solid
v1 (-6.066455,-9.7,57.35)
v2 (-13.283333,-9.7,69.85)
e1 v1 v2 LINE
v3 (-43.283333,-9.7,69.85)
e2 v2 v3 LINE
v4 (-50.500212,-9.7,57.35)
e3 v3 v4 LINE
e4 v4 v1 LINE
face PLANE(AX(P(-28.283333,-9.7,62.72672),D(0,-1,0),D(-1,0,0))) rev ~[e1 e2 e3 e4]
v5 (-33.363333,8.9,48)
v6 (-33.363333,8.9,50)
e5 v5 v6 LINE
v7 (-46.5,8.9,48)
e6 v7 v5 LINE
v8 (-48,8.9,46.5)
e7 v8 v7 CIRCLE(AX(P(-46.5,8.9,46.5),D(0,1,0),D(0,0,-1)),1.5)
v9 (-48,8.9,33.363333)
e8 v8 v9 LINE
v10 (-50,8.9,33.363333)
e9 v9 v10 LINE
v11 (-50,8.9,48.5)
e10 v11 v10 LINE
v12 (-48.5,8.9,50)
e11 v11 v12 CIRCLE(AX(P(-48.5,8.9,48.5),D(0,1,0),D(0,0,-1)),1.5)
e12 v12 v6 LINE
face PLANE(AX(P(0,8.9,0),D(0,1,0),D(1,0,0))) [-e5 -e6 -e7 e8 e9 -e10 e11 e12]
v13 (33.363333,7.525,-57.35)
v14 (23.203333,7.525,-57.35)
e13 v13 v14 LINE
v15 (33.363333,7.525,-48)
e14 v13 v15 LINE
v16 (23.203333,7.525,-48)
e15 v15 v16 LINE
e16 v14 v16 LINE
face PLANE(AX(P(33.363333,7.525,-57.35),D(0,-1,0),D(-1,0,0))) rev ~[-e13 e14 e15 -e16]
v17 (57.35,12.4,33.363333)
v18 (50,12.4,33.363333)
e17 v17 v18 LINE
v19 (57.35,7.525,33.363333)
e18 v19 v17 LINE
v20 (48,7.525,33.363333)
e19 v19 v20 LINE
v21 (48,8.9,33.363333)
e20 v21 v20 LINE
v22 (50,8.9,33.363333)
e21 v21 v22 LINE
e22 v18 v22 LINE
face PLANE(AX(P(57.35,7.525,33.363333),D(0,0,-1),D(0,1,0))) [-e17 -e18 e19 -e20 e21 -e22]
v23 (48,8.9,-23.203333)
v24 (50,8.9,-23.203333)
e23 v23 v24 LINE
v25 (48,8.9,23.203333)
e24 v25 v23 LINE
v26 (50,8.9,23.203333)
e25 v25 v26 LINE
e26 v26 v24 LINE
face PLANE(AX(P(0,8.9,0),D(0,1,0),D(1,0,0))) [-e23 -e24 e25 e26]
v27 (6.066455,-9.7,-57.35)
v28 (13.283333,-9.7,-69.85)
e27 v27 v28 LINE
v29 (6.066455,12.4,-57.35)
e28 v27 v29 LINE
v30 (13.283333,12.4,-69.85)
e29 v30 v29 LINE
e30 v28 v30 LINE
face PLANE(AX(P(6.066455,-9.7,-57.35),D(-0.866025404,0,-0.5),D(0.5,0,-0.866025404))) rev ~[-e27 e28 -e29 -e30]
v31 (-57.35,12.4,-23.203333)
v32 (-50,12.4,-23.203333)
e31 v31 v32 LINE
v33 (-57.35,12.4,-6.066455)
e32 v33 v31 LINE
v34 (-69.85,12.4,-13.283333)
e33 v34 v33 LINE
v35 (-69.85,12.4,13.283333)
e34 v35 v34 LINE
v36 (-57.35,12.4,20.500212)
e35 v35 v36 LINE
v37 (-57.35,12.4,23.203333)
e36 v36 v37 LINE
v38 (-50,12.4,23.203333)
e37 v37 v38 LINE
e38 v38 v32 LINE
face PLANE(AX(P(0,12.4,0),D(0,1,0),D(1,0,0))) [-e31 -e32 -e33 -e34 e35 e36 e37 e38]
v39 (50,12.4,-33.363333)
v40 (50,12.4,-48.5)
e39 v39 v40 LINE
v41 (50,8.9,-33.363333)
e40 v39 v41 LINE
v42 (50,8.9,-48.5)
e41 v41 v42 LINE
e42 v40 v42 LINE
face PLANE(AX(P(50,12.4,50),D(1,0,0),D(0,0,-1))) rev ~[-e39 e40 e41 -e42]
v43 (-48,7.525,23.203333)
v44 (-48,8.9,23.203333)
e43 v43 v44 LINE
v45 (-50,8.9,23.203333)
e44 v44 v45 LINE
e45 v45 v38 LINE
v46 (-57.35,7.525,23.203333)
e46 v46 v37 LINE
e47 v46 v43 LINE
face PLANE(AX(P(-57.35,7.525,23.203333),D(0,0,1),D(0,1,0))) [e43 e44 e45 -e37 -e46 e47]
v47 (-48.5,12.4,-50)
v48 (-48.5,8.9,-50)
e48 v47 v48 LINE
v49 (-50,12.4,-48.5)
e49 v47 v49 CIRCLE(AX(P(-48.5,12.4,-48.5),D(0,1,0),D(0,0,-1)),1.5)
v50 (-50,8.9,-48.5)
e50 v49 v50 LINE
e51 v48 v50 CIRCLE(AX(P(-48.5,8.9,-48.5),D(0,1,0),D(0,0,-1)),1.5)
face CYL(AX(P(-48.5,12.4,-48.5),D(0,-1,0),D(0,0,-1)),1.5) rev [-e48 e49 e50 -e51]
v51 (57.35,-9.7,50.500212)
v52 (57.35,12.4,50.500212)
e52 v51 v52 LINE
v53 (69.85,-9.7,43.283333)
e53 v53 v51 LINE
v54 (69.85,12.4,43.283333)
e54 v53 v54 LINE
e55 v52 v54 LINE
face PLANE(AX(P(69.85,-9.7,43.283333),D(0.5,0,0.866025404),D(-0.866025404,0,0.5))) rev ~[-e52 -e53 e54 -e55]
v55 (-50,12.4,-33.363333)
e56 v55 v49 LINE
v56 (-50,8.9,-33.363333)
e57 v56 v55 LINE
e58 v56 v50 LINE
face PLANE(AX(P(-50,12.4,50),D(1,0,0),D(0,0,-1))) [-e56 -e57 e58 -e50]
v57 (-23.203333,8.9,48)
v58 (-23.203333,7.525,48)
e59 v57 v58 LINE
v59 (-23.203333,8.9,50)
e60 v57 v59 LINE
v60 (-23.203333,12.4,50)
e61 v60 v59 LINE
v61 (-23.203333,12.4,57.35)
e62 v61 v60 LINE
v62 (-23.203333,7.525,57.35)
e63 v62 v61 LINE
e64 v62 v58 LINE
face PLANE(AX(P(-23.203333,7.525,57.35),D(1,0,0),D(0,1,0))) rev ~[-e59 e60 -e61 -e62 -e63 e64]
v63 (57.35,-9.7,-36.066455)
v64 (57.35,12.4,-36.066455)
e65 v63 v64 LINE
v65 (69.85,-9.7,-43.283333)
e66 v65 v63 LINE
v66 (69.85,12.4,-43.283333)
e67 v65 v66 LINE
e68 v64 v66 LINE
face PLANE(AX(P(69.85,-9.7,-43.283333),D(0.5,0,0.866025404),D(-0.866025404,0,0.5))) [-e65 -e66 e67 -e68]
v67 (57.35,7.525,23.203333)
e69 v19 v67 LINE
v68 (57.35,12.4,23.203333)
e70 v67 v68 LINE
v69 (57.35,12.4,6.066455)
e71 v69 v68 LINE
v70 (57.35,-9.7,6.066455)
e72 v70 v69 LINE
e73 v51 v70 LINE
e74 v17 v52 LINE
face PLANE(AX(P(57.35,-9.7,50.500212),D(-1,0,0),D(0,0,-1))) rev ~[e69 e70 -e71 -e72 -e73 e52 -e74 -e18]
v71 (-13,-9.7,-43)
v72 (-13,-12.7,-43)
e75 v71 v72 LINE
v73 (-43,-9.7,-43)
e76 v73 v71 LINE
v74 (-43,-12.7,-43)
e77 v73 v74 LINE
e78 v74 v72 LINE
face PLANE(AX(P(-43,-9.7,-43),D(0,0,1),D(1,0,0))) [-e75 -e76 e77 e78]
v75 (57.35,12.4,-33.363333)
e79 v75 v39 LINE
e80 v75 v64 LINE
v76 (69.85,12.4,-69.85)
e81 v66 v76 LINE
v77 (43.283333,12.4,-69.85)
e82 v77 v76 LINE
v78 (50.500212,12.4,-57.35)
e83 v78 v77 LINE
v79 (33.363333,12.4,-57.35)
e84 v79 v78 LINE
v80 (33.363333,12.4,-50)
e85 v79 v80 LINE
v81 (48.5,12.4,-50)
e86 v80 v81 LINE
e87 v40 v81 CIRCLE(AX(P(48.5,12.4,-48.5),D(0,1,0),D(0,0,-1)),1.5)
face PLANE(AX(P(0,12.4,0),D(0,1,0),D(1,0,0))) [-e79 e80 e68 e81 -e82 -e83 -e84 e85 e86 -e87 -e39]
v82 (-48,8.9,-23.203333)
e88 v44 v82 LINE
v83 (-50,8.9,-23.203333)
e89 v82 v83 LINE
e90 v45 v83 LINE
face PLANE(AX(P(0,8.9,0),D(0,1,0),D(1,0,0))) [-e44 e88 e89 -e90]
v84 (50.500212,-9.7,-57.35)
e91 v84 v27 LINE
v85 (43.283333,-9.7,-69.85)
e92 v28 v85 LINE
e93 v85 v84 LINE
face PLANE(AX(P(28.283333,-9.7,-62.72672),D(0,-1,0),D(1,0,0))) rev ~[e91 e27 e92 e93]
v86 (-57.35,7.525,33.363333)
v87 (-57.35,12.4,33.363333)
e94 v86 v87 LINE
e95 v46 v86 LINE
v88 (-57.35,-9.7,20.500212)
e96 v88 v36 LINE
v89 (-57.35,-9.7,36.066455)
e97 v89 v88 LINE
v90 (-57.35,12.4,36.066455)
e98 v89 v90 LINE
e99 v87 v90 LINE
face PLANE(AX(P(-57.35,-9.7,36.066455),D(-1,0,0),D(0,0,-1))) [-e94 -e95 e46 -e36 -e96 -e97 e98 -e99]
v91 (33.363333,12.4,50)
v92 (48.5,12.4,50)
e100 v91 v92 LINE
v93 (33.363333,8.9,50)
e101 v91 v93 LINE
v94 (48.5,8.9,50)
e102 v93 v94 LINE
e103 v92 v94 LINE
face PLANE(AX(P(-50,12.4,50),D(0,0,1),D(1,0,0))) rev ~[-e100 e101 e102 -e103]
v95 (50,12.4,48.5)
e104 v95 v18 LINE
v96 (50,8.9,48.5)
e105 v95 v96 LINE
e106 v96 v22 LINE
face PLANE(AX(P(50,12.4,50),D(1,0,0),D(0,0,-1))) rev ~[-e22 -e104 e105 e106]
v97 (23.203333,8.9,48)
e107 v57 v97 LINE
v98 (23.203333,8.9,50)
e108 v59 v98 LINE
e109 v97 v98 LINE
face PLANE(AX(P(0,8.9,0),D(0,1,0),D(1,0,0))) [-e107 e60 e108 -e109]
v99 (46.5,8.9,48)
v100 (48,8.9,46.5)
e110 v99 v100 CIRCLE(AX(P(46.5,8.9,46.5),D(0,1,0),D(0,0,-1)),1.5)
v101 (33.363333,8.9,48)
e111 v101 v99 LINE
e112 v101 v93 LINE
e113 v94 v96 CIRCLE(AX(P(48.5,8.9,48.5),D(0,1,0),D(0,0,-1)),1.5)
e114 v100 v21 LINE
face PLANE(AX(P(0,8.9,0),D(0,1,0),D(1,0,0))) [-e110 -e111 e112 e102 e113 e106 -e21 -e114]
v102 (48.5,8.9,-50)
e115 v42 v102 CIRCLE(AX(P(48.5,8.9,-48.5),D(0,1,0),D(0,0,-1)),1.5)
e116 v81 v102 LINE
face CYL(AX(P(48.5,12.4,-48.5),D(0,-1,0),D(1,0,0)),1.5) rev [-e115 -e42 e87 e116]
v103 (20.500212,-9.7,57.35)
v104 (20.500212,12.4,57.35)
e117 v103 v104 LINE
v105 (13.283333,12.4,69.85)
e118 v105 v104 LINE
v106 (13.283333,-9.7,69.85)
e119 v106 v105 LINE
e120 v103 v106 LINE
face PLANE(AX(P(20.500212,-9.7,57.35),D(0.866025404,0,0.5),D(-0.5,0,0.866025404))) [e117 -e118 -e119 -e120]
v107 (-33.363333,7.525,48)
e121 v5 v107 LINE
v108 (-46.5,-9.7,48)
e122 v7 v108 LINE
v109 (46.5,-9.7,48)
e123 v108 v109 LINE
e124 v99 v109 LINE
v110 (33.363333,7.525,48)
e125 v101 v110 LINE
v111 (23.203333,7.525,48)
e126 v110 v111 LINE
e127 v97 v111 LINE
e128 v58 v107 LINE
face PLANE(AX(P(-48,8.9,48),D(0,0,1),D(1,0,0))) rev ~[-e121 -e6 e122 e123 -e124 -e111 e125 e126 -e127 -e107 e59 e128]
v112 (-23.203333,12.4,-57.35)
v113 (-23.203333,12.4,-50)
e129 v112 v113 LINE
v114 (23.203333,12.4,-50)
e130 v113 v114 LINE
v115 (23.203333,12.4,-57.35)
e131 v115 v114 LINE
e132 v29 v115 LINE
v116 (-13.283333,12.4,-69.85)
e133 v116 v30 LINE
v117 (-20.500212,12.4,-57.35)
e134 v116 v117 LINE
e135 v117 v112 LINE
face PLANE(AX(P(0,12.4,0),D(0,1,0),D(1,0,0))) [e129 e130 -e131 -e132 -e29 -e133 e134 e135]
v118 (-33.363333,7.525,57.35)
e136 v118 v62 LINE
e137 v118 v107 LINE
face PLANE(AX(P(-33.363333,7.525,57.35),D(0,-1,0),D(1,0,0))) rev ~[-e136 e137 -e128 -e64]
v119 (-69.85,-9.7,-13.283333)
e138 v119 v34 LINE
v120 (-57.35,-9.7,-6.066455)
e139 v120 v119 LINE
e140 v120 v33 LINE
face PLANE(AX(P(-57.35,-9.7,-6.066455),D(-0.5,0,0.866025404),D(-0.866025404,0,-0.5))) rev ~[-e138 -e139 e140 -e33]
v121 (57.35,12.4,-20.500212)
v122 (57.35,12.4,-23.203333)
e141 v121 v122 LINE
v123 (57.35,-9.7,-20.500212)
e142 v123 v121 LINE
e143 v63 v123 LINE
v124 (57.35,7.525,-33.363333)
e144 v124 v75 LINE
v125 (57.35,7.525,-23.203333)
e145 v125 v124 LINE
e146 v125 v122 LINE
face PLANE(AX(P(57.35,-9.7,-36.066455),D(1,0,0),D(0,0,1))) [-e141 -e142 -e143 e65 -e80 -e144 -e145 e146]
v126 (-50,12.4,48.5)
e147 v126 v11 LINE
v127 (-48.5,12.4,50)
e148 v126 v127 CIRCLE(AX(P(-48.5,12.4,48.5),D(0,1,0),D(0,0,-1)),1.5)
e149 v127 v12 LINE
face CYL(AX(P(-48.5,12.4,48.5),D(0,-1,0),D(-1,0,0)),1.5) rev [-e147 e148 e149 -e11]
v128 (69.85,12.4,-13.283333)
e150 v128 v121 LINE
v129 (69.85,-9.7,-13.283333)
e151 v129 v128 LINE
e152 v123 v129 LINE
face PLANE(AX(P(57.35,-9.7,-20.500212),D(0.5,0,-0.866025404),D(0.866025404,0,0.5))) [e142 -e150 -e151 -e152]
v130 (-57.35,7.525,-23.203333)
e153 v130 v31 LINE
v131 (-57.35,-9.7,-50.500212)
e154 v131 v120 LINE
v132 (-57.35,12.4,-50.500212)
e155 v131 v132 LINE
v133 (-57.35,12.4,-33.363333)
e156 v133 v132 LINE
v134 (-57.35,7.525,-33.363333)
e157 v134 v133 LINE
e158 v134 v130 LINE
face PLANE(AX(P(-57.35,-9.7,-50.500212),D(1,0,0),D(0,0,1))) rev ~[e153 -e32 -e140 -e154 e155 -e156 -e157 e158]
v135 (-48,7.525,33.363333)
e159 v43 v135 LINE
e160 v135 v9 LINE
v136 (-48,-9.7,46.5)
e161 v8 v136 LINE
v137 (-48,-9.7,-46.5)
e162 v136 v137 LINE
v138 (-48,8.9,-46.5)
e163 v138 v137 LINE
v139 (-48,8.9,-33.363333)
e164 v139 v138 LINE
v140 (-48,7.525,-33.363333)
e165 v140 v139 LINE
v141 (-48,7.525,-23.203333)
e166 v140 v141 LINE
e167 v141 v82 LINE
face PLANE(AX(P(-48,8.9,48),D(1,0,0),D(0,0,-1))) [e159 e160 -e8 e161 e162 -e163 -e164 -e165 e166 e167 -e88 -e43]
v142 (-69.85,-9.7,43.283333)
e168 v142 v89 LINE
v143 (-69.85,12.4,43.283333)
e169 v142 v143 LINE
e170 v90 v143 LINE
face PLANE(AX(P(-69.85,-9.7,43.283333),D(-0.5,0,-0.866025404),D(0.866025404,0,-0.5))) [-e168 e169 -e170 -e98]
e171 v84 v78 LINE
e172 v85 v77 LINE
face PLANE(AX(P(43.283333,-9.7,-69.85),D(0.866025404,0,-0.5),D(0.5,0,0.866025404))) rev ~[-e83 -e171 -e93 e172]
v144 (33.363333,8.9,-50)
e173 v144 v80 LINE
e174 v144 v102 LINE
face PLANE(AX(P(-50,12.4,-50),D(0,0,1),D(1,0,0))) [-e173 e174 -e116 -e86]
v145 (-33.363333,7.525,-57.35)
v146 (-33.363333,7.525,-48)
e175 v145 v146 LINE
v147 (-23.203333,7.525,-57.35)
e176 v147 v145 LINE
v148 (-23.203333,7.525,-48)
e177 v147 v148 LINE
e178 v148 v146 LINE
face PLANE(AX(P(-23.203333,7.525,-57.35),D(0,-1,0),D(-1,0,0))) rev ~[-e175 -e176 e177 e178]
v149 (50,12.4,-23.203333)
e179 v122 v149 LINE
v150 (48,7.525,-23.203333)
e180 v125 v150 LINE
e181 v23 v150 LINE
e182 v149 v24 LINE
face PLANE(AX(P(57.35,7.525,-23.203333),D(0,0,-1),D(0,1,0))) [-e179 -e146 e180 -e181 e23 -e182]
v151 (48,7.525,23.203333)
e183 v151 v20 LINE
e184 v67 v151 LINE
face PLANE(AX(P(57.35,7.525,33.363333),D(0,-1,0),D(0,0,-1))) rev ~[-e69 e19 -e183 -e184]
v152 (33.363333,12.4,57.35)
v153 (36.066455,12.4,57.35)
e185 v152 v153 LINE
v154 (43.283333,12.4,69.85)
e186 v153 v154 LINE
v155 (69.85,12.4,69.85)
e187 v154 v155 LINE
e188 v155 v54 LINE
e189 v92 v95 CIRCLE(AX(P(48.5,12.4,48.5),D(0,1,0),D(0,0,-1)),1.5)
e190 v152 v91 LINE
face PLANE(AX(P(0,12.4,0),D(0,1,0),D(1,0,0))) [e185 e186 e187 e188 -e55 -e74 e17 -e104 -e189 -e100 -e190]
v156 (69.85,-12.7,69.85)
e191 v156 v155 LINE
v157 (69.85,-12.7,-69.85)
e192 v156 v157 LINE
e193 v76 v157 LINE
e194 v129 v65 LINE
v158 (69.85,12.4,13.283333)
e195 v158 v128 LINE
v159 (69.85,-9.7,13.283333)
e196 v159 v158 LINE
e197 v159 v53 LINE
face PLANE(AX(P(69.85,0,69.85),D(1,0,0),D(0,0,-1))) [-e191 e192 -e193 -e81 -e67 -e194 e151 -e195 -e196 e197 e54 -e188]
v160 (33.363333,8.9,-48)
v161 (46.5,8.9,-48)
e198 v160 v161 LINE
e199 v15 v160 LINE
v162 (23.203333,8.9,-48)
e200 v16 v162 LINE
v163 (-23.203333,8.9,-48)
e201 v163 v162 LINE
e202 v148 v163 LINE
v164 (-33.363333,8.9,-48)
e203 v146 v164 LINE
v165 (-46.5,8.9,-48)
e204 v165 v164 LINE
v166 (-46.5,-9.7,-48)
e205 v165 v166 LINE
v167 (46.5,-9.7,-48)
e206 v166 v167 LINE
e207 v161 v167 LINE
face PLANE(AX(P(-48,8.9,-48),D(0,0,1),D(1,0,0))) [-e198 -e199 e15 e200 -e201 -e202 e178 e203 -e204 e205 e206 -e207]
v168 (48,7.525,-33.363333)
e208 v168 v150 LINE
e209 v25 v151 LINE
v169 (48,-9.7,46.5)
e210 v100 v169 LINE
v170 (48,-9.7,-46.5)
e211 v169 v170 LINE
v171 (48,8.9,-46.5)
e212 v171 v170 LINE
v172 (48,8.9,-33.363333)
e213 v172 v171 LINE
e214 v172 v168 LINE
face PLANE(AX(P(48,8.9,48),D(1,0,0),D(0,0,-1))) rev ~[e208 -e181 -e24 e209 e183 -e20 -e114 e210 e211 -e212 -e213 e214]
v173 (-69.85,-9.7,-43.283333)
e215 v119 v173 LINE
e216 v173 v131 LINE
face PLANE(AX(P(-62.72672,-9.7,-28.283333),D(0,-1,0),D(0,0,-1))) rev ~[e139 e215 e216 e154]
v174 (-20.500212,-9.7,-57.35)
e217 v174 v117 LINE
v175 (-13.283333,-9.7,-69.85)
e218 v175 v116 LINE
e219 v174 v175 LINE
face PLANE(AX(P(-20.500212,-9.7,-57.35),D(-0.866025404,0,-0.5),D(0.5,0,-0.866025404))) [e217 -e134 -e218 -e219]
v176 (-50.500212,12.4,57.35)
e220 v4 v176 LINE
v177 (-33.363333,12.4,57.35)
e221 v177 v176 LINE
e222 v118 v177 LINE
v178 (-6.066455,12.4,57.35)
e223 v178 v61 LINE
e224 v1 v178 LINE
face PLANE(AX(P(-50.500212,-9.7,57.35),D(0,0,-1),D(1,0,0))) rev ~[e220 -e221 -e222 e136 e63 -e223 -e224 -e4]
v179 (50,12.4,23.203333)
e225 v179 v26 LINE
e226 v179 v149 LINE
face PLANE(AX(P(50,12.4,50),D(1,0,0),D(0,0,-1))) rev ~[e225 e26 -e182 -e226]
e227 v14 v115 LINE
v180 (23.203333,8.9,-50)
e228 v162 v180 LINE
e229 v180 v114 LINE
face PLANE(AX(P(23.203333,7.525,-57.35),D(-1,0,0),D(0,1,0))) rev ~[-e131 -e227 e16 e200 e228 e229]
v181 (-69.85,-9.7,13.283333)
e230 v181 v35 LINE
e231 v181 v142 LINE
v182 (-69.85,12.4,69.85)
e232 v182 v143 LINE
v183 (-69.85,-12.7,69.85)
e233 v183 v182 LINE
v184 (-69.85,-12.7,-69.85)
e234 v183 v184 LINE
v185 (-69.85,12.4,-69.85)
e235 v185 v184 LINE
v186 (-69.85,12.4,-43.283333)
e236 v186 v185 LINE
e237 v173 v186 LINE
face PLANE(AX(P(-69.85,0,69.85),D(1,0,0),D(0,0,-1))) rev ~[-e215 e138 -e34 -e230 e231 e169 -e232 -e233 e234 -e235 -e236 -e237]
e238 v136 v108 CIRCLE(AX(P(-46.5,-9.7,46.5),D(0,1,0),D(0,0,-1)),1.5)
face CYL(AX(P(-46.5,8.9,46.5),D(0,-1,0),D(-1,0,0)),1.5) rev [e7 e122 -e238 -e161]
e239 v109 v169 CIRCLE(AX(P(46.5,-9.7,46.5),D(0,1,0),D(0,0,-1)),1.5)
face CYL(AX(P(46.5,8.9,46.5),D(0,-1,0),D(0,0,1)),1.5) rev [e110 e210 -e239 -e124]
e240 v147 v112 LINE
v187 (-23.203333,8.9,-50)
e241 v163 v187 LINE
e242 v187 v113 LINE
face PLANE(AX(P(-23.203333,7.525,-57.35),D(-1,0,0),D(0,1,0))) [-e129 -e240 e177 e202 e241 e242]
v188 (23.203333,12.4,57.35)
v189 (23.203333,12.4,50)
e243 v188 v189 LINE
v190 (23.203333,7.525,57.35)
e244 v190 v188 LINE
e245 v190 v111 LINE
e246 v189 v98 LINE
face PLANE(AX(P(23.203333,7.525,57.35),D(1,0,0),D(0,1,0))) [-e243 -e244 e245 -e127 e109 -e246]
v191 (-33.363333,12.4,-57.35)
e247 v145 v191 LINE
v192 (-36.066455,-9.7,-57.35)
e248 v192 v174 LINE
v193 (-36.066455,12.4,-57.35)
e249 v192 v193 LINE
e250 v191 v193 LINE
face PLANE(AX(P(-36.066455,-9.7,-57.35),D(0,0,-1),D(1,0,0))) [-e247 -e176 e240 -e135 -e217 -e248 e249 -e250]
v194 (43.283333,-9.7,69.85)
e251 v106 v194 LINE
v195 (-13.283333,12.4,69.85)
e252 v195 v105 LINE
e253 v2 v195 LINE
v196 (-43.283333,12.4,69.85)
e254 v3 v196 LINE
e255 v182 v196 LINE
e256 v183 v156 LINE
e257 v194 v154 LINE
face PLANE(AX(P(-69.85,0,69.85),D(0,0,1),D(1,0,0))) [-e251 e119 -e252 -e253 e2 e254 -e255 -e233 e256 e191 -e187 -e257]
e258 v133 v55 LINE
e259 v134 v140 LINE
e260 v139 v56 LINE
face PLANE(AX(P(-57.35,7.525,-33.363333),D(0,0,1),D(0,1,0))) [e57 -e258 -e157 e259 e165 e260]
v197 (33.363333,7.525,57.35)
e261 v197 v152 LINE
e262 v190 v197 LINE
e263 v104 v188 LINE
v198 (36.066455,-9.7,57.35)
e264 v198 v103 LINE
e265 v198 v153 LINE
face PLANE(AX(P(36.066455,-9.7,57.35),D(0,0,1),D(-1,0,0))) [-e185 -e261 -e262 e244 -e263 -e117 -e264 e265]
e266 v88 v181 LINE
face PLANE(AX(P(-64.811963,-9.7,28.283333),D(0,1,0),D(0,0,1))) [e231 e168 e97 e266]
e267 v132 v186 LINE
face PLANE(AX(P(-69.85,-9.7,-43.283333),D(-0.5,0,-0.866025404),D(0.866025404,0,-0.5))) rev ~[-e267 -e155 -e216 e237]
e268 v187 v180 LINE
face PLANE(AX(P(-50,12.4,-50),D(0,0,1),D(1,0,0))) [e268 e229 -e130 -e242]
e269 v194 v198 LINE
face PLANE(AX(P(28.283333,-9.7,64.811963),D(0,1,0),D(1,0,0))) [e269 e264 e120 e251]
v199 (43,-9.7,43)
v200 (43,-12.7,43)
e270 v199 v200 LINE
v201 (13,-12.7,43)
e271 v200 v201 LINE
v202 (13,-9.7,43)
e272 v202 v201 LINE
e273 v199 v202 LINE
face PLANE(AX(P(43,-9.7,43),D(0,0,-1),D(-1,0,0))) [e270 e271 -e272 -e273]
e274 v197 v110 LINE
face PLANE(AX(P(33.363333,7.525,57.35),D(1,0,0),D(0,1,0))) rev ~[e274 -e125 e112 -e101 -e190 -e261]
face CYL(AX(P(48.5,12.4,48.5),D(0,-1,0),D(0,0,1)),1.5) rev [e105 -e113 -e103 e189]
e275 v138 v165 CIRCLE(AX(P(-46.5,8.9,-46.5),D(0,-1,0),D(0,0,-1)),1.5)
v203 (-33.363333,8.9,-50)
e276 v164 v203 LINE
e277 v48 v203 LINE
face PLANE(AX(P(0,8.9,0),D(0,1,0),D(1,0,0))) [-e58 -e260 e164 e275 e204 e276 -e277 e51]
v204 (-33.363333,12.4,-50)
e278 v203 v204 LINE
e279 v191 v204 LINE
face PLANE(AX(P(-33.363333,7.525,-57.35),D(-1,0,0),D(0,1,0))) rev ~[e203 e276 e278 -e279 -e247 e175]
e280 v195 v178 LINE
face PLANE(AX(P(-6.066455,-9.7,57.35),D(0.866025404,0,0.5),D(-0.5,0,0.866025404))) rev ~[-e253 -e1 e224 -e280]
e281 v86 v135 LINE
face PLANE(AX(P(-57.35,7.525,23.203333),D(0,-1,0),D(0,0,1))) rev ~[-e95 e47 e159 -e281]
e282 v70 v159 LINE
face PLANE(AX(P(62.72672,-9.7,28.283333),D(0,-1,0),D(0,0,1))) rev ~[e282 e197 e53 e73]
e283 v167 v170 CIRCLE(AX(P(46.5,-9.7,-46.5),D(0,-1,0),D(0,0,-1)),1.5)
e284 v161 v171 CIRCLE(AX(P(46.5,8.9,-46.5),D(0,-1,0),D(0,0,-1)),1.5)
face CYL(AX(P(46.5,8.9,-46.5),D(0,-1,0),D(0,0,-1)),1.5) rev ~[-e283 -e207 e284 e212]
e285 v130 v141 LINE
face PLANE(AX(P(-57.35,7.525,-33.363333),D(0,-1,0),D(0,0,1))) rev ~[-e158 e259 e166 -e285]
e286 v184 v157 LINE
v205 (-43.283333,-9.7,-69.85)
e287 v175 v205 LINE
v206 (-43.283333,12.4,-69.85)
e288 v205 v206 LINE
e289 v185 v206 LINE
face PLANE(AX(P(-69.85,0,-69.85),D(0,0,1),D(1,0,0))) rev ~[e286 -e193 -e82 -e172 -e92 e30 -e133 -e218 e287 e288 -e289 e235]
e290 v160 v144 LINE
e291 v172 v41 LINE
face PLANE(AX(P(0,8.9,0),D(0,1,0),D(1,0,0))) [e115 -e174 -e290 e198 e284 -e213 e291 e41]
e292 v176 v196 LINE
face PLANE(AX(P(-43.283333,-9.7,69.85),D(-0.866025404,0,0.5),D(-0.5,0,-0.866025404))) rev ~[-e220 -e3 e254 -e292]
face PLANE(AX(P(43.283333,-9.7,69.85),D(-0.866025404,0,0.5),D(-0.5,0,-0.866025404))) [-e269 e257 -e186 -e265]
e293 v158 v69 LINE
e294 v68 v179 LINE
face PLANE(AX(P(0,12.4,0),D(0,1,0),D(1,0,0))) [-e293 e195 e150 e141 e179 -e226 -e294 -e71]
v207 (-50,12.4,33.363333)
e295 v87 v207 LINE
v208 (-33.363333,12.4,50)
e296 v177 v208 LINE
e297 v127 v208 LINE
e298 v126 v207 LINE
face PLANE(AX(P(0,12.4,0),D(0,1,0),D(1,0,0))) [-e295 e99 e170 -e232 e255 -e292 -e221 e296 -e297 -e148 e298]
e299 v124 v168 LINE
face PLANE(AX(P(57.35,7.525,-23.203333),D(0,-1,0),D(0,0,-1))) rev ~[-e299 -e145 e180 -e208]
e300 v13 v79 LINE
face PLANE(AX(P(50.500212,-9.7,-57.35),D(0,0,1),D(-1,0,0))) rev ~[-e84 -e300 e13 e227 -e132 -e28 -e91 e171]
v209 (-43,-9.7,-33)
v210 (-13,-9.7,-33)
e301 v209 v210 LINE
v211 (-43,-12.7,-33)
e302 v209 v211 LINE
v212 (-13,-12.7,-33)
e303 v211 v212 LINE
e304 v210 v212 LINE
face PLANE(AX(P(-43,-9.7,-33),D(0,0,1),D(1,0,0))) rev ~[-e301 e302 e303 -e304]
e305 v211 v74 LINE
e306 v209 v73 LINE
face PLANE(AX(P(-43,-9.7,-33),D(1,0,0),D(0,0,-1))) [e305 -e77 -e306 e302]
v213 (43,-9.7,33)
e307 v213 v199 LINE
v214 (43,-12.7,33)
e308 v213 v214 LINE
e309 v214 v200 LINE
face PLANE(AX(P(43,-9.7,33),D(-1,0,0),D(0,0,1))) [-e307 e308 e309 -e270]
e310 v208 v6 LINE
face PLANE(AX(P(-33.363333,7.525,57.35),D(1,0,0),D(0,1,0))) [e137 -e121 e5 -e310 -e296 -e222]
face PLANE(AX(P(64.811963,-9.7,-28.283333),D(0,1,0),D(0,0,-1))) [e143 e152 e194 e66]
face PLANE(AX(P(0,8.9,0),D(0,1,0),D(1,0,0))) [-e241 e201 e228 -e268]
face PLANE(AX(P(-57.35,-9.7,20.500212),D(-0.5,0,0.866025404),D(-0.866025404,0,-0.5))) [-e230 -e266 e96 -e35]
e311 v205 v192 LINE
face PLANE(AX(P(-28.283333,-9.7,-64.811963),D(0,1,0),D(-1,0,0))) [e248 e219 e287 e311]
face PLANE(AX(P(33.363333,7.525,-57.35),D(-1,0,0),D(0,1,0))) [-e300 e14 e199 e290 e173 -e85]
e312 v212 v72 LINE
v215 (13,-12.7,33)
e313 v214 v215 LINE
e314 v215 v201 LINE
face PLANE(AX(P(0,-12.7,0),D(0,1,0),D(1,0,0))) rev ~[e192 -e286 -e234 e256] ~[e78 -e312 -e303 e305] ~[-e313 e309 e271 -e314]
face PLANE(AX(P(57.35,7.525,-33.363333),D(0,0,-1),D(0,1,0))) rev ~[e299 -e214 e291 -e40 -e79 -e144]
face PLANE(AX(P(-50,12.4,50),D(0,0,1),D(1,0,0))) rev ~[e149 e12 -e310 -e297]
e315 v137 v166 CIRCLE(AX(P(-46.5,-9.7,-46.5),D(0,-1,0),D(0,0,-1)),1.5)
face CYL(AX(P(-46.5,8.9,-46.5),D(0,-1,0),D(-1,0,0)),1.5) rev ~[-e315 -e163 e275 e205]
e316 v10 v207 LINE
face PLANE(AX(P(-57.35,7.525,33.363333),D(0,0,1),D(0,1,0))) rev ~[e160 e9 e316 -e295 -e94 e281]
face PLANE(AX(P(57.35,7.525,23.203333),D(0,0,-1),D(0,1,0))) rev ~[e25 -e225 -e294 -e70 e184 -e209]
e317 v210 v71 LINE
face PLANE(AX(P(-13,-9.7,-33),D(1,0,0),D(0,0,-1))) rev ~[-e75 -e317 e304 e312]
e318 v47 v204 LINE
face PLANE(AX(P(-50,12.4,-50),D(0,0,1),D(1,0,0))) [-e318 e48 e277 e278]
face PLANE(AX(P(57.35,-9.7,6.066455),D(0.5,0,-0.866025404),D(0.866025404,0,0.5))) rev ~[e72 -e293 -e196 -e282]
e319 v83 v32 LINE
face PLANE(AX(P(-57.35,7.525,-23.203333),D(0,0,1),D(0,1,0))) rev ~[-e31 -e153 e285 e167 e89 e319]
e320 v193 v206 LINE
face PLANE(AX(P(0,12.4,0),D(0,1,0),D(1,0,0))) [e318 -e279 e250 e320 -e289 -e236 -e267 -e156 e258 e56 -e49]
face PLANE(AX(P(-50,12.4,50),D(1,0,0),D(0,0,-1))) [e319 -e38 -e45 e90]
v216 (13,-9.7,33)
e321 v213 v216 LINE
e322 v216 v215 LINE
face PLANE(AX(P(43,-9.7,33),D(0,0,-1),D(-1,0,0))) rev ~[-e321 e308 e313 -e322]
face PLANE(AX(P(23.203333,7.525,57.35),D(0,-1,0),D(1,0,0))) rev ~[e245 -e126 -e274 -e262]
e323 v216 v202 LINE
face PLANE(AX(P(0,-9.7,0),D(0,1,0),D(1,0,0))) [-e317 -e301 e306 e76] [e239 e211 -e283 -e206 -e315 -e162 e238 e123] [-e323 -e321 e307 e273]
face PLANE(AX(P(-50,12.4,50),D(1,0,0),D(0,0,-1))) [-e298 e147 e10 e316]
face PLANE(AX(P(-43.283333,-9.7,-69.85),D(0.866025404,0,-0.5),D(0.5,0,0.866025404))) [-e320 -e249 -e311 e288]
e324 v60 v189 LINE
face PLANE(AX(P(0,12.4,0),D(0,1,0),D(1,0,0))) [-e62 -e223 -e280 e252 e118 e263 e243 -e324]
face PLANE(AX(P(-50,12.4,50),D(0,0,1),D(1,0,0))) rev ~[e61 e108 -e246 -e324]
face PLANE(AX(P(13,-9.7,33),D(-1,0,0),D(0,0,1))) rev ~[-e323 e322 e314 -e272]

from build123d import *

# Parameters (mm, degrees)
SKETCH1_W           = 139.7
SKETCH1_H           = 139.7
BOSS_EXTRUDE1_DEPTH = 12.7
SKETCH2_W           = 139.7
SKETCH2_H           = 139.7
CUT_EXTRUDE1_DEPTH  = 0.3
CUT_EXTRUDE2_START  = -22.1
CUT_EXTRUDE2_DEPTH  = 125.021808265
SKETCH18_W          = 10.16
SKETCH18_H          = 4.875
CUT_EXTRUDE6_DEPTH  = 20
CIRPATTERN1_COUNT   = 4
SKETCH19_W          = 100
SKETCH19_H          = 100
CUT_EXTRUDE8_DEPTH  = 3.5
SKETCH20_W          = 96
SKETCH20_H          = 96
CUT_EXTRUDE9_DEPTH  = 18.6
SKETCH21_W          = 30
SKETCH21_H          = 10
CUT_EXTRUDE10_DEPTH = 102.224774635
FILLET2_R           = 1.5
CIRPATTERN2_COUNT   = 2


with BuildPart() as part:
    # Sketch1 → Boss-Extrude1 (new, symmetric)
    with BuildSketch(Plane(origin=(0, 0, 0), x_dir=(1, 0, 0), z_dir=(0, 1, 0))):
        Rectangle(SKETCH1_W, SKETCH1_H)
    extrude(amount=BOSS_EXTRUDE1_DEPTH, both=True)

    # Sketch2 → Cut-Extrude1 (cut)
    with BuildSketch(Plane(origin=(0, 12.7, 0), x_dir=(1, 0, 0), z_dir=(0, 1, 0))):
        Rectangle(SKETCH2_W, SKETCH2_H)
    extrude(amount=-CUT_EXTRUDE1_DEPTH, mode=Mode.SUBTRACT)

    # Sketch4 → Cut-Extrude2 (cut)
    with BuildSketch(Plane(origin=(0, 12.4, 0), x_dir=(1, 0, 0), z_dir=(0, 1, 0)).offset(CUT_EXTRUDE2_START)):
        Polygon((-43.283333333, -69.85), (-50.500211698, -57.35), (-6.066454968, -57.35), (-13.283333333, -69.85), align=None)
        Polygon((43.283333333, -69.85), (36.066454968, -57.35), (20.500211698, -57.35), (13.283333333, -69.85), align=None)
    cut_extrude2 = extrude(amount=CUT_EXTRUDE2_DEPTH, mode=Mode.SUBTRACT)

    # Sketch18 → Cut-Extrude6 (cut)
    with BuildSketch(Plane.XY.offset(57.35)):
        with Locations((28.283333333, 9.9625)):
            Rectangle(SKETCH18_W, SKETCH18_H)
        with Locations((-28.283333333, 9.9625)):
            Rectangle(SKETCH18_W, SKETCH18_H)
    cut_extrude6 = extrude(amount=-CUT_EXTRUDE6_DEPTH, mode=Mode.SUBTRACT)

    # CirPattern1: Cut-Extrude2, Cut-Extrude6 ×4 about axis
    cirpattern1_axis = Axis((0, 0, 0), (0, 1, 0))
    add([cut_extrude2.rotate(cirpattern1_axis, i * 360 / CIRPATTERN1_COUNT) for i in range(1, CIRPATTERN1_COUNT)], mode=Mode.SUBTRACT)
    add([cut_extrude6.rotate(cirpattern1_axis, i * 360 / CIRPATTERN1_COUNT) for i in range(1, CIRPATTERN1_COUNT)], mode=Mode.SUBTRACT)

    # Sketch19 → Cut-Extrude8 (cut)
    with BuildSketch(Plane(origin=(0, 12.4, 0), x_dir=(1, 0, 0), z_dir=(0, 1, 0))):
        Rectangle(SKETCH19_W, SKETCH19_H)
    extrude(amount=-CUT_EXTRUDE8_DEPTH, mode=Mode.SUBTRACT)

    # Sketch20 → Cut-Extrude9 (cut)
    with BuildSketch(Plane(origin=(0, 8.9, 0), x_dir=(1, 0, 0), z_dir=(0, 1, 0))):
        Rectangle(SKETCH20_W, SKETCH20_H)
    extrude(amount=-CUT_EXTRUDE9_DEPTH, mode=Mode.SUBTRACT)

    # Sketch21 → Cut-Extrude10 (cut, through all)
    with BuildSketch(Plane(origin=(0, -9.7, 0), x_dir=(1, 0, 0), z_dir=(0, 1, 0))):
        with Locations((-28, 38)):
            Rectangle(SKETCH21_W, SKETCH21_H)
    cut_extrude10 = extrude(amount=-CUT_EXTRUDE10_DEPTH, mode=Mode.SUBTRACT)

    # Fillet2
    fillet2_edges = [part.edges().sort_by_distance(p)[0] for p in [
        (50, 10.65, 50),
        (-50, 10.65, -50),
        (50, 10.65, -50),
        (-50, 10.65, 50),
        (48, -0.4, -48),
        (48, -0.4, 48),
        (-48, -0.4, 48),
        (-48, -0.4, -48),
    ]]
    fillet(fillet2_edges, radius=FILLET2_R)

    # CirPattern2: Cut-Extrude10 ×2 about axis
    cirpattern2_axis = Axis((0, 0, 0), (0, 1, 0))
    for i in range(1, CIRPATTERN2_COUNT):
        add(cut_extrude10.rotate(cirpattern2_axis, i * 360 / CIRPATTERN2_COUNT), mode=Mode.SUBTRACT)


solid = part.part
